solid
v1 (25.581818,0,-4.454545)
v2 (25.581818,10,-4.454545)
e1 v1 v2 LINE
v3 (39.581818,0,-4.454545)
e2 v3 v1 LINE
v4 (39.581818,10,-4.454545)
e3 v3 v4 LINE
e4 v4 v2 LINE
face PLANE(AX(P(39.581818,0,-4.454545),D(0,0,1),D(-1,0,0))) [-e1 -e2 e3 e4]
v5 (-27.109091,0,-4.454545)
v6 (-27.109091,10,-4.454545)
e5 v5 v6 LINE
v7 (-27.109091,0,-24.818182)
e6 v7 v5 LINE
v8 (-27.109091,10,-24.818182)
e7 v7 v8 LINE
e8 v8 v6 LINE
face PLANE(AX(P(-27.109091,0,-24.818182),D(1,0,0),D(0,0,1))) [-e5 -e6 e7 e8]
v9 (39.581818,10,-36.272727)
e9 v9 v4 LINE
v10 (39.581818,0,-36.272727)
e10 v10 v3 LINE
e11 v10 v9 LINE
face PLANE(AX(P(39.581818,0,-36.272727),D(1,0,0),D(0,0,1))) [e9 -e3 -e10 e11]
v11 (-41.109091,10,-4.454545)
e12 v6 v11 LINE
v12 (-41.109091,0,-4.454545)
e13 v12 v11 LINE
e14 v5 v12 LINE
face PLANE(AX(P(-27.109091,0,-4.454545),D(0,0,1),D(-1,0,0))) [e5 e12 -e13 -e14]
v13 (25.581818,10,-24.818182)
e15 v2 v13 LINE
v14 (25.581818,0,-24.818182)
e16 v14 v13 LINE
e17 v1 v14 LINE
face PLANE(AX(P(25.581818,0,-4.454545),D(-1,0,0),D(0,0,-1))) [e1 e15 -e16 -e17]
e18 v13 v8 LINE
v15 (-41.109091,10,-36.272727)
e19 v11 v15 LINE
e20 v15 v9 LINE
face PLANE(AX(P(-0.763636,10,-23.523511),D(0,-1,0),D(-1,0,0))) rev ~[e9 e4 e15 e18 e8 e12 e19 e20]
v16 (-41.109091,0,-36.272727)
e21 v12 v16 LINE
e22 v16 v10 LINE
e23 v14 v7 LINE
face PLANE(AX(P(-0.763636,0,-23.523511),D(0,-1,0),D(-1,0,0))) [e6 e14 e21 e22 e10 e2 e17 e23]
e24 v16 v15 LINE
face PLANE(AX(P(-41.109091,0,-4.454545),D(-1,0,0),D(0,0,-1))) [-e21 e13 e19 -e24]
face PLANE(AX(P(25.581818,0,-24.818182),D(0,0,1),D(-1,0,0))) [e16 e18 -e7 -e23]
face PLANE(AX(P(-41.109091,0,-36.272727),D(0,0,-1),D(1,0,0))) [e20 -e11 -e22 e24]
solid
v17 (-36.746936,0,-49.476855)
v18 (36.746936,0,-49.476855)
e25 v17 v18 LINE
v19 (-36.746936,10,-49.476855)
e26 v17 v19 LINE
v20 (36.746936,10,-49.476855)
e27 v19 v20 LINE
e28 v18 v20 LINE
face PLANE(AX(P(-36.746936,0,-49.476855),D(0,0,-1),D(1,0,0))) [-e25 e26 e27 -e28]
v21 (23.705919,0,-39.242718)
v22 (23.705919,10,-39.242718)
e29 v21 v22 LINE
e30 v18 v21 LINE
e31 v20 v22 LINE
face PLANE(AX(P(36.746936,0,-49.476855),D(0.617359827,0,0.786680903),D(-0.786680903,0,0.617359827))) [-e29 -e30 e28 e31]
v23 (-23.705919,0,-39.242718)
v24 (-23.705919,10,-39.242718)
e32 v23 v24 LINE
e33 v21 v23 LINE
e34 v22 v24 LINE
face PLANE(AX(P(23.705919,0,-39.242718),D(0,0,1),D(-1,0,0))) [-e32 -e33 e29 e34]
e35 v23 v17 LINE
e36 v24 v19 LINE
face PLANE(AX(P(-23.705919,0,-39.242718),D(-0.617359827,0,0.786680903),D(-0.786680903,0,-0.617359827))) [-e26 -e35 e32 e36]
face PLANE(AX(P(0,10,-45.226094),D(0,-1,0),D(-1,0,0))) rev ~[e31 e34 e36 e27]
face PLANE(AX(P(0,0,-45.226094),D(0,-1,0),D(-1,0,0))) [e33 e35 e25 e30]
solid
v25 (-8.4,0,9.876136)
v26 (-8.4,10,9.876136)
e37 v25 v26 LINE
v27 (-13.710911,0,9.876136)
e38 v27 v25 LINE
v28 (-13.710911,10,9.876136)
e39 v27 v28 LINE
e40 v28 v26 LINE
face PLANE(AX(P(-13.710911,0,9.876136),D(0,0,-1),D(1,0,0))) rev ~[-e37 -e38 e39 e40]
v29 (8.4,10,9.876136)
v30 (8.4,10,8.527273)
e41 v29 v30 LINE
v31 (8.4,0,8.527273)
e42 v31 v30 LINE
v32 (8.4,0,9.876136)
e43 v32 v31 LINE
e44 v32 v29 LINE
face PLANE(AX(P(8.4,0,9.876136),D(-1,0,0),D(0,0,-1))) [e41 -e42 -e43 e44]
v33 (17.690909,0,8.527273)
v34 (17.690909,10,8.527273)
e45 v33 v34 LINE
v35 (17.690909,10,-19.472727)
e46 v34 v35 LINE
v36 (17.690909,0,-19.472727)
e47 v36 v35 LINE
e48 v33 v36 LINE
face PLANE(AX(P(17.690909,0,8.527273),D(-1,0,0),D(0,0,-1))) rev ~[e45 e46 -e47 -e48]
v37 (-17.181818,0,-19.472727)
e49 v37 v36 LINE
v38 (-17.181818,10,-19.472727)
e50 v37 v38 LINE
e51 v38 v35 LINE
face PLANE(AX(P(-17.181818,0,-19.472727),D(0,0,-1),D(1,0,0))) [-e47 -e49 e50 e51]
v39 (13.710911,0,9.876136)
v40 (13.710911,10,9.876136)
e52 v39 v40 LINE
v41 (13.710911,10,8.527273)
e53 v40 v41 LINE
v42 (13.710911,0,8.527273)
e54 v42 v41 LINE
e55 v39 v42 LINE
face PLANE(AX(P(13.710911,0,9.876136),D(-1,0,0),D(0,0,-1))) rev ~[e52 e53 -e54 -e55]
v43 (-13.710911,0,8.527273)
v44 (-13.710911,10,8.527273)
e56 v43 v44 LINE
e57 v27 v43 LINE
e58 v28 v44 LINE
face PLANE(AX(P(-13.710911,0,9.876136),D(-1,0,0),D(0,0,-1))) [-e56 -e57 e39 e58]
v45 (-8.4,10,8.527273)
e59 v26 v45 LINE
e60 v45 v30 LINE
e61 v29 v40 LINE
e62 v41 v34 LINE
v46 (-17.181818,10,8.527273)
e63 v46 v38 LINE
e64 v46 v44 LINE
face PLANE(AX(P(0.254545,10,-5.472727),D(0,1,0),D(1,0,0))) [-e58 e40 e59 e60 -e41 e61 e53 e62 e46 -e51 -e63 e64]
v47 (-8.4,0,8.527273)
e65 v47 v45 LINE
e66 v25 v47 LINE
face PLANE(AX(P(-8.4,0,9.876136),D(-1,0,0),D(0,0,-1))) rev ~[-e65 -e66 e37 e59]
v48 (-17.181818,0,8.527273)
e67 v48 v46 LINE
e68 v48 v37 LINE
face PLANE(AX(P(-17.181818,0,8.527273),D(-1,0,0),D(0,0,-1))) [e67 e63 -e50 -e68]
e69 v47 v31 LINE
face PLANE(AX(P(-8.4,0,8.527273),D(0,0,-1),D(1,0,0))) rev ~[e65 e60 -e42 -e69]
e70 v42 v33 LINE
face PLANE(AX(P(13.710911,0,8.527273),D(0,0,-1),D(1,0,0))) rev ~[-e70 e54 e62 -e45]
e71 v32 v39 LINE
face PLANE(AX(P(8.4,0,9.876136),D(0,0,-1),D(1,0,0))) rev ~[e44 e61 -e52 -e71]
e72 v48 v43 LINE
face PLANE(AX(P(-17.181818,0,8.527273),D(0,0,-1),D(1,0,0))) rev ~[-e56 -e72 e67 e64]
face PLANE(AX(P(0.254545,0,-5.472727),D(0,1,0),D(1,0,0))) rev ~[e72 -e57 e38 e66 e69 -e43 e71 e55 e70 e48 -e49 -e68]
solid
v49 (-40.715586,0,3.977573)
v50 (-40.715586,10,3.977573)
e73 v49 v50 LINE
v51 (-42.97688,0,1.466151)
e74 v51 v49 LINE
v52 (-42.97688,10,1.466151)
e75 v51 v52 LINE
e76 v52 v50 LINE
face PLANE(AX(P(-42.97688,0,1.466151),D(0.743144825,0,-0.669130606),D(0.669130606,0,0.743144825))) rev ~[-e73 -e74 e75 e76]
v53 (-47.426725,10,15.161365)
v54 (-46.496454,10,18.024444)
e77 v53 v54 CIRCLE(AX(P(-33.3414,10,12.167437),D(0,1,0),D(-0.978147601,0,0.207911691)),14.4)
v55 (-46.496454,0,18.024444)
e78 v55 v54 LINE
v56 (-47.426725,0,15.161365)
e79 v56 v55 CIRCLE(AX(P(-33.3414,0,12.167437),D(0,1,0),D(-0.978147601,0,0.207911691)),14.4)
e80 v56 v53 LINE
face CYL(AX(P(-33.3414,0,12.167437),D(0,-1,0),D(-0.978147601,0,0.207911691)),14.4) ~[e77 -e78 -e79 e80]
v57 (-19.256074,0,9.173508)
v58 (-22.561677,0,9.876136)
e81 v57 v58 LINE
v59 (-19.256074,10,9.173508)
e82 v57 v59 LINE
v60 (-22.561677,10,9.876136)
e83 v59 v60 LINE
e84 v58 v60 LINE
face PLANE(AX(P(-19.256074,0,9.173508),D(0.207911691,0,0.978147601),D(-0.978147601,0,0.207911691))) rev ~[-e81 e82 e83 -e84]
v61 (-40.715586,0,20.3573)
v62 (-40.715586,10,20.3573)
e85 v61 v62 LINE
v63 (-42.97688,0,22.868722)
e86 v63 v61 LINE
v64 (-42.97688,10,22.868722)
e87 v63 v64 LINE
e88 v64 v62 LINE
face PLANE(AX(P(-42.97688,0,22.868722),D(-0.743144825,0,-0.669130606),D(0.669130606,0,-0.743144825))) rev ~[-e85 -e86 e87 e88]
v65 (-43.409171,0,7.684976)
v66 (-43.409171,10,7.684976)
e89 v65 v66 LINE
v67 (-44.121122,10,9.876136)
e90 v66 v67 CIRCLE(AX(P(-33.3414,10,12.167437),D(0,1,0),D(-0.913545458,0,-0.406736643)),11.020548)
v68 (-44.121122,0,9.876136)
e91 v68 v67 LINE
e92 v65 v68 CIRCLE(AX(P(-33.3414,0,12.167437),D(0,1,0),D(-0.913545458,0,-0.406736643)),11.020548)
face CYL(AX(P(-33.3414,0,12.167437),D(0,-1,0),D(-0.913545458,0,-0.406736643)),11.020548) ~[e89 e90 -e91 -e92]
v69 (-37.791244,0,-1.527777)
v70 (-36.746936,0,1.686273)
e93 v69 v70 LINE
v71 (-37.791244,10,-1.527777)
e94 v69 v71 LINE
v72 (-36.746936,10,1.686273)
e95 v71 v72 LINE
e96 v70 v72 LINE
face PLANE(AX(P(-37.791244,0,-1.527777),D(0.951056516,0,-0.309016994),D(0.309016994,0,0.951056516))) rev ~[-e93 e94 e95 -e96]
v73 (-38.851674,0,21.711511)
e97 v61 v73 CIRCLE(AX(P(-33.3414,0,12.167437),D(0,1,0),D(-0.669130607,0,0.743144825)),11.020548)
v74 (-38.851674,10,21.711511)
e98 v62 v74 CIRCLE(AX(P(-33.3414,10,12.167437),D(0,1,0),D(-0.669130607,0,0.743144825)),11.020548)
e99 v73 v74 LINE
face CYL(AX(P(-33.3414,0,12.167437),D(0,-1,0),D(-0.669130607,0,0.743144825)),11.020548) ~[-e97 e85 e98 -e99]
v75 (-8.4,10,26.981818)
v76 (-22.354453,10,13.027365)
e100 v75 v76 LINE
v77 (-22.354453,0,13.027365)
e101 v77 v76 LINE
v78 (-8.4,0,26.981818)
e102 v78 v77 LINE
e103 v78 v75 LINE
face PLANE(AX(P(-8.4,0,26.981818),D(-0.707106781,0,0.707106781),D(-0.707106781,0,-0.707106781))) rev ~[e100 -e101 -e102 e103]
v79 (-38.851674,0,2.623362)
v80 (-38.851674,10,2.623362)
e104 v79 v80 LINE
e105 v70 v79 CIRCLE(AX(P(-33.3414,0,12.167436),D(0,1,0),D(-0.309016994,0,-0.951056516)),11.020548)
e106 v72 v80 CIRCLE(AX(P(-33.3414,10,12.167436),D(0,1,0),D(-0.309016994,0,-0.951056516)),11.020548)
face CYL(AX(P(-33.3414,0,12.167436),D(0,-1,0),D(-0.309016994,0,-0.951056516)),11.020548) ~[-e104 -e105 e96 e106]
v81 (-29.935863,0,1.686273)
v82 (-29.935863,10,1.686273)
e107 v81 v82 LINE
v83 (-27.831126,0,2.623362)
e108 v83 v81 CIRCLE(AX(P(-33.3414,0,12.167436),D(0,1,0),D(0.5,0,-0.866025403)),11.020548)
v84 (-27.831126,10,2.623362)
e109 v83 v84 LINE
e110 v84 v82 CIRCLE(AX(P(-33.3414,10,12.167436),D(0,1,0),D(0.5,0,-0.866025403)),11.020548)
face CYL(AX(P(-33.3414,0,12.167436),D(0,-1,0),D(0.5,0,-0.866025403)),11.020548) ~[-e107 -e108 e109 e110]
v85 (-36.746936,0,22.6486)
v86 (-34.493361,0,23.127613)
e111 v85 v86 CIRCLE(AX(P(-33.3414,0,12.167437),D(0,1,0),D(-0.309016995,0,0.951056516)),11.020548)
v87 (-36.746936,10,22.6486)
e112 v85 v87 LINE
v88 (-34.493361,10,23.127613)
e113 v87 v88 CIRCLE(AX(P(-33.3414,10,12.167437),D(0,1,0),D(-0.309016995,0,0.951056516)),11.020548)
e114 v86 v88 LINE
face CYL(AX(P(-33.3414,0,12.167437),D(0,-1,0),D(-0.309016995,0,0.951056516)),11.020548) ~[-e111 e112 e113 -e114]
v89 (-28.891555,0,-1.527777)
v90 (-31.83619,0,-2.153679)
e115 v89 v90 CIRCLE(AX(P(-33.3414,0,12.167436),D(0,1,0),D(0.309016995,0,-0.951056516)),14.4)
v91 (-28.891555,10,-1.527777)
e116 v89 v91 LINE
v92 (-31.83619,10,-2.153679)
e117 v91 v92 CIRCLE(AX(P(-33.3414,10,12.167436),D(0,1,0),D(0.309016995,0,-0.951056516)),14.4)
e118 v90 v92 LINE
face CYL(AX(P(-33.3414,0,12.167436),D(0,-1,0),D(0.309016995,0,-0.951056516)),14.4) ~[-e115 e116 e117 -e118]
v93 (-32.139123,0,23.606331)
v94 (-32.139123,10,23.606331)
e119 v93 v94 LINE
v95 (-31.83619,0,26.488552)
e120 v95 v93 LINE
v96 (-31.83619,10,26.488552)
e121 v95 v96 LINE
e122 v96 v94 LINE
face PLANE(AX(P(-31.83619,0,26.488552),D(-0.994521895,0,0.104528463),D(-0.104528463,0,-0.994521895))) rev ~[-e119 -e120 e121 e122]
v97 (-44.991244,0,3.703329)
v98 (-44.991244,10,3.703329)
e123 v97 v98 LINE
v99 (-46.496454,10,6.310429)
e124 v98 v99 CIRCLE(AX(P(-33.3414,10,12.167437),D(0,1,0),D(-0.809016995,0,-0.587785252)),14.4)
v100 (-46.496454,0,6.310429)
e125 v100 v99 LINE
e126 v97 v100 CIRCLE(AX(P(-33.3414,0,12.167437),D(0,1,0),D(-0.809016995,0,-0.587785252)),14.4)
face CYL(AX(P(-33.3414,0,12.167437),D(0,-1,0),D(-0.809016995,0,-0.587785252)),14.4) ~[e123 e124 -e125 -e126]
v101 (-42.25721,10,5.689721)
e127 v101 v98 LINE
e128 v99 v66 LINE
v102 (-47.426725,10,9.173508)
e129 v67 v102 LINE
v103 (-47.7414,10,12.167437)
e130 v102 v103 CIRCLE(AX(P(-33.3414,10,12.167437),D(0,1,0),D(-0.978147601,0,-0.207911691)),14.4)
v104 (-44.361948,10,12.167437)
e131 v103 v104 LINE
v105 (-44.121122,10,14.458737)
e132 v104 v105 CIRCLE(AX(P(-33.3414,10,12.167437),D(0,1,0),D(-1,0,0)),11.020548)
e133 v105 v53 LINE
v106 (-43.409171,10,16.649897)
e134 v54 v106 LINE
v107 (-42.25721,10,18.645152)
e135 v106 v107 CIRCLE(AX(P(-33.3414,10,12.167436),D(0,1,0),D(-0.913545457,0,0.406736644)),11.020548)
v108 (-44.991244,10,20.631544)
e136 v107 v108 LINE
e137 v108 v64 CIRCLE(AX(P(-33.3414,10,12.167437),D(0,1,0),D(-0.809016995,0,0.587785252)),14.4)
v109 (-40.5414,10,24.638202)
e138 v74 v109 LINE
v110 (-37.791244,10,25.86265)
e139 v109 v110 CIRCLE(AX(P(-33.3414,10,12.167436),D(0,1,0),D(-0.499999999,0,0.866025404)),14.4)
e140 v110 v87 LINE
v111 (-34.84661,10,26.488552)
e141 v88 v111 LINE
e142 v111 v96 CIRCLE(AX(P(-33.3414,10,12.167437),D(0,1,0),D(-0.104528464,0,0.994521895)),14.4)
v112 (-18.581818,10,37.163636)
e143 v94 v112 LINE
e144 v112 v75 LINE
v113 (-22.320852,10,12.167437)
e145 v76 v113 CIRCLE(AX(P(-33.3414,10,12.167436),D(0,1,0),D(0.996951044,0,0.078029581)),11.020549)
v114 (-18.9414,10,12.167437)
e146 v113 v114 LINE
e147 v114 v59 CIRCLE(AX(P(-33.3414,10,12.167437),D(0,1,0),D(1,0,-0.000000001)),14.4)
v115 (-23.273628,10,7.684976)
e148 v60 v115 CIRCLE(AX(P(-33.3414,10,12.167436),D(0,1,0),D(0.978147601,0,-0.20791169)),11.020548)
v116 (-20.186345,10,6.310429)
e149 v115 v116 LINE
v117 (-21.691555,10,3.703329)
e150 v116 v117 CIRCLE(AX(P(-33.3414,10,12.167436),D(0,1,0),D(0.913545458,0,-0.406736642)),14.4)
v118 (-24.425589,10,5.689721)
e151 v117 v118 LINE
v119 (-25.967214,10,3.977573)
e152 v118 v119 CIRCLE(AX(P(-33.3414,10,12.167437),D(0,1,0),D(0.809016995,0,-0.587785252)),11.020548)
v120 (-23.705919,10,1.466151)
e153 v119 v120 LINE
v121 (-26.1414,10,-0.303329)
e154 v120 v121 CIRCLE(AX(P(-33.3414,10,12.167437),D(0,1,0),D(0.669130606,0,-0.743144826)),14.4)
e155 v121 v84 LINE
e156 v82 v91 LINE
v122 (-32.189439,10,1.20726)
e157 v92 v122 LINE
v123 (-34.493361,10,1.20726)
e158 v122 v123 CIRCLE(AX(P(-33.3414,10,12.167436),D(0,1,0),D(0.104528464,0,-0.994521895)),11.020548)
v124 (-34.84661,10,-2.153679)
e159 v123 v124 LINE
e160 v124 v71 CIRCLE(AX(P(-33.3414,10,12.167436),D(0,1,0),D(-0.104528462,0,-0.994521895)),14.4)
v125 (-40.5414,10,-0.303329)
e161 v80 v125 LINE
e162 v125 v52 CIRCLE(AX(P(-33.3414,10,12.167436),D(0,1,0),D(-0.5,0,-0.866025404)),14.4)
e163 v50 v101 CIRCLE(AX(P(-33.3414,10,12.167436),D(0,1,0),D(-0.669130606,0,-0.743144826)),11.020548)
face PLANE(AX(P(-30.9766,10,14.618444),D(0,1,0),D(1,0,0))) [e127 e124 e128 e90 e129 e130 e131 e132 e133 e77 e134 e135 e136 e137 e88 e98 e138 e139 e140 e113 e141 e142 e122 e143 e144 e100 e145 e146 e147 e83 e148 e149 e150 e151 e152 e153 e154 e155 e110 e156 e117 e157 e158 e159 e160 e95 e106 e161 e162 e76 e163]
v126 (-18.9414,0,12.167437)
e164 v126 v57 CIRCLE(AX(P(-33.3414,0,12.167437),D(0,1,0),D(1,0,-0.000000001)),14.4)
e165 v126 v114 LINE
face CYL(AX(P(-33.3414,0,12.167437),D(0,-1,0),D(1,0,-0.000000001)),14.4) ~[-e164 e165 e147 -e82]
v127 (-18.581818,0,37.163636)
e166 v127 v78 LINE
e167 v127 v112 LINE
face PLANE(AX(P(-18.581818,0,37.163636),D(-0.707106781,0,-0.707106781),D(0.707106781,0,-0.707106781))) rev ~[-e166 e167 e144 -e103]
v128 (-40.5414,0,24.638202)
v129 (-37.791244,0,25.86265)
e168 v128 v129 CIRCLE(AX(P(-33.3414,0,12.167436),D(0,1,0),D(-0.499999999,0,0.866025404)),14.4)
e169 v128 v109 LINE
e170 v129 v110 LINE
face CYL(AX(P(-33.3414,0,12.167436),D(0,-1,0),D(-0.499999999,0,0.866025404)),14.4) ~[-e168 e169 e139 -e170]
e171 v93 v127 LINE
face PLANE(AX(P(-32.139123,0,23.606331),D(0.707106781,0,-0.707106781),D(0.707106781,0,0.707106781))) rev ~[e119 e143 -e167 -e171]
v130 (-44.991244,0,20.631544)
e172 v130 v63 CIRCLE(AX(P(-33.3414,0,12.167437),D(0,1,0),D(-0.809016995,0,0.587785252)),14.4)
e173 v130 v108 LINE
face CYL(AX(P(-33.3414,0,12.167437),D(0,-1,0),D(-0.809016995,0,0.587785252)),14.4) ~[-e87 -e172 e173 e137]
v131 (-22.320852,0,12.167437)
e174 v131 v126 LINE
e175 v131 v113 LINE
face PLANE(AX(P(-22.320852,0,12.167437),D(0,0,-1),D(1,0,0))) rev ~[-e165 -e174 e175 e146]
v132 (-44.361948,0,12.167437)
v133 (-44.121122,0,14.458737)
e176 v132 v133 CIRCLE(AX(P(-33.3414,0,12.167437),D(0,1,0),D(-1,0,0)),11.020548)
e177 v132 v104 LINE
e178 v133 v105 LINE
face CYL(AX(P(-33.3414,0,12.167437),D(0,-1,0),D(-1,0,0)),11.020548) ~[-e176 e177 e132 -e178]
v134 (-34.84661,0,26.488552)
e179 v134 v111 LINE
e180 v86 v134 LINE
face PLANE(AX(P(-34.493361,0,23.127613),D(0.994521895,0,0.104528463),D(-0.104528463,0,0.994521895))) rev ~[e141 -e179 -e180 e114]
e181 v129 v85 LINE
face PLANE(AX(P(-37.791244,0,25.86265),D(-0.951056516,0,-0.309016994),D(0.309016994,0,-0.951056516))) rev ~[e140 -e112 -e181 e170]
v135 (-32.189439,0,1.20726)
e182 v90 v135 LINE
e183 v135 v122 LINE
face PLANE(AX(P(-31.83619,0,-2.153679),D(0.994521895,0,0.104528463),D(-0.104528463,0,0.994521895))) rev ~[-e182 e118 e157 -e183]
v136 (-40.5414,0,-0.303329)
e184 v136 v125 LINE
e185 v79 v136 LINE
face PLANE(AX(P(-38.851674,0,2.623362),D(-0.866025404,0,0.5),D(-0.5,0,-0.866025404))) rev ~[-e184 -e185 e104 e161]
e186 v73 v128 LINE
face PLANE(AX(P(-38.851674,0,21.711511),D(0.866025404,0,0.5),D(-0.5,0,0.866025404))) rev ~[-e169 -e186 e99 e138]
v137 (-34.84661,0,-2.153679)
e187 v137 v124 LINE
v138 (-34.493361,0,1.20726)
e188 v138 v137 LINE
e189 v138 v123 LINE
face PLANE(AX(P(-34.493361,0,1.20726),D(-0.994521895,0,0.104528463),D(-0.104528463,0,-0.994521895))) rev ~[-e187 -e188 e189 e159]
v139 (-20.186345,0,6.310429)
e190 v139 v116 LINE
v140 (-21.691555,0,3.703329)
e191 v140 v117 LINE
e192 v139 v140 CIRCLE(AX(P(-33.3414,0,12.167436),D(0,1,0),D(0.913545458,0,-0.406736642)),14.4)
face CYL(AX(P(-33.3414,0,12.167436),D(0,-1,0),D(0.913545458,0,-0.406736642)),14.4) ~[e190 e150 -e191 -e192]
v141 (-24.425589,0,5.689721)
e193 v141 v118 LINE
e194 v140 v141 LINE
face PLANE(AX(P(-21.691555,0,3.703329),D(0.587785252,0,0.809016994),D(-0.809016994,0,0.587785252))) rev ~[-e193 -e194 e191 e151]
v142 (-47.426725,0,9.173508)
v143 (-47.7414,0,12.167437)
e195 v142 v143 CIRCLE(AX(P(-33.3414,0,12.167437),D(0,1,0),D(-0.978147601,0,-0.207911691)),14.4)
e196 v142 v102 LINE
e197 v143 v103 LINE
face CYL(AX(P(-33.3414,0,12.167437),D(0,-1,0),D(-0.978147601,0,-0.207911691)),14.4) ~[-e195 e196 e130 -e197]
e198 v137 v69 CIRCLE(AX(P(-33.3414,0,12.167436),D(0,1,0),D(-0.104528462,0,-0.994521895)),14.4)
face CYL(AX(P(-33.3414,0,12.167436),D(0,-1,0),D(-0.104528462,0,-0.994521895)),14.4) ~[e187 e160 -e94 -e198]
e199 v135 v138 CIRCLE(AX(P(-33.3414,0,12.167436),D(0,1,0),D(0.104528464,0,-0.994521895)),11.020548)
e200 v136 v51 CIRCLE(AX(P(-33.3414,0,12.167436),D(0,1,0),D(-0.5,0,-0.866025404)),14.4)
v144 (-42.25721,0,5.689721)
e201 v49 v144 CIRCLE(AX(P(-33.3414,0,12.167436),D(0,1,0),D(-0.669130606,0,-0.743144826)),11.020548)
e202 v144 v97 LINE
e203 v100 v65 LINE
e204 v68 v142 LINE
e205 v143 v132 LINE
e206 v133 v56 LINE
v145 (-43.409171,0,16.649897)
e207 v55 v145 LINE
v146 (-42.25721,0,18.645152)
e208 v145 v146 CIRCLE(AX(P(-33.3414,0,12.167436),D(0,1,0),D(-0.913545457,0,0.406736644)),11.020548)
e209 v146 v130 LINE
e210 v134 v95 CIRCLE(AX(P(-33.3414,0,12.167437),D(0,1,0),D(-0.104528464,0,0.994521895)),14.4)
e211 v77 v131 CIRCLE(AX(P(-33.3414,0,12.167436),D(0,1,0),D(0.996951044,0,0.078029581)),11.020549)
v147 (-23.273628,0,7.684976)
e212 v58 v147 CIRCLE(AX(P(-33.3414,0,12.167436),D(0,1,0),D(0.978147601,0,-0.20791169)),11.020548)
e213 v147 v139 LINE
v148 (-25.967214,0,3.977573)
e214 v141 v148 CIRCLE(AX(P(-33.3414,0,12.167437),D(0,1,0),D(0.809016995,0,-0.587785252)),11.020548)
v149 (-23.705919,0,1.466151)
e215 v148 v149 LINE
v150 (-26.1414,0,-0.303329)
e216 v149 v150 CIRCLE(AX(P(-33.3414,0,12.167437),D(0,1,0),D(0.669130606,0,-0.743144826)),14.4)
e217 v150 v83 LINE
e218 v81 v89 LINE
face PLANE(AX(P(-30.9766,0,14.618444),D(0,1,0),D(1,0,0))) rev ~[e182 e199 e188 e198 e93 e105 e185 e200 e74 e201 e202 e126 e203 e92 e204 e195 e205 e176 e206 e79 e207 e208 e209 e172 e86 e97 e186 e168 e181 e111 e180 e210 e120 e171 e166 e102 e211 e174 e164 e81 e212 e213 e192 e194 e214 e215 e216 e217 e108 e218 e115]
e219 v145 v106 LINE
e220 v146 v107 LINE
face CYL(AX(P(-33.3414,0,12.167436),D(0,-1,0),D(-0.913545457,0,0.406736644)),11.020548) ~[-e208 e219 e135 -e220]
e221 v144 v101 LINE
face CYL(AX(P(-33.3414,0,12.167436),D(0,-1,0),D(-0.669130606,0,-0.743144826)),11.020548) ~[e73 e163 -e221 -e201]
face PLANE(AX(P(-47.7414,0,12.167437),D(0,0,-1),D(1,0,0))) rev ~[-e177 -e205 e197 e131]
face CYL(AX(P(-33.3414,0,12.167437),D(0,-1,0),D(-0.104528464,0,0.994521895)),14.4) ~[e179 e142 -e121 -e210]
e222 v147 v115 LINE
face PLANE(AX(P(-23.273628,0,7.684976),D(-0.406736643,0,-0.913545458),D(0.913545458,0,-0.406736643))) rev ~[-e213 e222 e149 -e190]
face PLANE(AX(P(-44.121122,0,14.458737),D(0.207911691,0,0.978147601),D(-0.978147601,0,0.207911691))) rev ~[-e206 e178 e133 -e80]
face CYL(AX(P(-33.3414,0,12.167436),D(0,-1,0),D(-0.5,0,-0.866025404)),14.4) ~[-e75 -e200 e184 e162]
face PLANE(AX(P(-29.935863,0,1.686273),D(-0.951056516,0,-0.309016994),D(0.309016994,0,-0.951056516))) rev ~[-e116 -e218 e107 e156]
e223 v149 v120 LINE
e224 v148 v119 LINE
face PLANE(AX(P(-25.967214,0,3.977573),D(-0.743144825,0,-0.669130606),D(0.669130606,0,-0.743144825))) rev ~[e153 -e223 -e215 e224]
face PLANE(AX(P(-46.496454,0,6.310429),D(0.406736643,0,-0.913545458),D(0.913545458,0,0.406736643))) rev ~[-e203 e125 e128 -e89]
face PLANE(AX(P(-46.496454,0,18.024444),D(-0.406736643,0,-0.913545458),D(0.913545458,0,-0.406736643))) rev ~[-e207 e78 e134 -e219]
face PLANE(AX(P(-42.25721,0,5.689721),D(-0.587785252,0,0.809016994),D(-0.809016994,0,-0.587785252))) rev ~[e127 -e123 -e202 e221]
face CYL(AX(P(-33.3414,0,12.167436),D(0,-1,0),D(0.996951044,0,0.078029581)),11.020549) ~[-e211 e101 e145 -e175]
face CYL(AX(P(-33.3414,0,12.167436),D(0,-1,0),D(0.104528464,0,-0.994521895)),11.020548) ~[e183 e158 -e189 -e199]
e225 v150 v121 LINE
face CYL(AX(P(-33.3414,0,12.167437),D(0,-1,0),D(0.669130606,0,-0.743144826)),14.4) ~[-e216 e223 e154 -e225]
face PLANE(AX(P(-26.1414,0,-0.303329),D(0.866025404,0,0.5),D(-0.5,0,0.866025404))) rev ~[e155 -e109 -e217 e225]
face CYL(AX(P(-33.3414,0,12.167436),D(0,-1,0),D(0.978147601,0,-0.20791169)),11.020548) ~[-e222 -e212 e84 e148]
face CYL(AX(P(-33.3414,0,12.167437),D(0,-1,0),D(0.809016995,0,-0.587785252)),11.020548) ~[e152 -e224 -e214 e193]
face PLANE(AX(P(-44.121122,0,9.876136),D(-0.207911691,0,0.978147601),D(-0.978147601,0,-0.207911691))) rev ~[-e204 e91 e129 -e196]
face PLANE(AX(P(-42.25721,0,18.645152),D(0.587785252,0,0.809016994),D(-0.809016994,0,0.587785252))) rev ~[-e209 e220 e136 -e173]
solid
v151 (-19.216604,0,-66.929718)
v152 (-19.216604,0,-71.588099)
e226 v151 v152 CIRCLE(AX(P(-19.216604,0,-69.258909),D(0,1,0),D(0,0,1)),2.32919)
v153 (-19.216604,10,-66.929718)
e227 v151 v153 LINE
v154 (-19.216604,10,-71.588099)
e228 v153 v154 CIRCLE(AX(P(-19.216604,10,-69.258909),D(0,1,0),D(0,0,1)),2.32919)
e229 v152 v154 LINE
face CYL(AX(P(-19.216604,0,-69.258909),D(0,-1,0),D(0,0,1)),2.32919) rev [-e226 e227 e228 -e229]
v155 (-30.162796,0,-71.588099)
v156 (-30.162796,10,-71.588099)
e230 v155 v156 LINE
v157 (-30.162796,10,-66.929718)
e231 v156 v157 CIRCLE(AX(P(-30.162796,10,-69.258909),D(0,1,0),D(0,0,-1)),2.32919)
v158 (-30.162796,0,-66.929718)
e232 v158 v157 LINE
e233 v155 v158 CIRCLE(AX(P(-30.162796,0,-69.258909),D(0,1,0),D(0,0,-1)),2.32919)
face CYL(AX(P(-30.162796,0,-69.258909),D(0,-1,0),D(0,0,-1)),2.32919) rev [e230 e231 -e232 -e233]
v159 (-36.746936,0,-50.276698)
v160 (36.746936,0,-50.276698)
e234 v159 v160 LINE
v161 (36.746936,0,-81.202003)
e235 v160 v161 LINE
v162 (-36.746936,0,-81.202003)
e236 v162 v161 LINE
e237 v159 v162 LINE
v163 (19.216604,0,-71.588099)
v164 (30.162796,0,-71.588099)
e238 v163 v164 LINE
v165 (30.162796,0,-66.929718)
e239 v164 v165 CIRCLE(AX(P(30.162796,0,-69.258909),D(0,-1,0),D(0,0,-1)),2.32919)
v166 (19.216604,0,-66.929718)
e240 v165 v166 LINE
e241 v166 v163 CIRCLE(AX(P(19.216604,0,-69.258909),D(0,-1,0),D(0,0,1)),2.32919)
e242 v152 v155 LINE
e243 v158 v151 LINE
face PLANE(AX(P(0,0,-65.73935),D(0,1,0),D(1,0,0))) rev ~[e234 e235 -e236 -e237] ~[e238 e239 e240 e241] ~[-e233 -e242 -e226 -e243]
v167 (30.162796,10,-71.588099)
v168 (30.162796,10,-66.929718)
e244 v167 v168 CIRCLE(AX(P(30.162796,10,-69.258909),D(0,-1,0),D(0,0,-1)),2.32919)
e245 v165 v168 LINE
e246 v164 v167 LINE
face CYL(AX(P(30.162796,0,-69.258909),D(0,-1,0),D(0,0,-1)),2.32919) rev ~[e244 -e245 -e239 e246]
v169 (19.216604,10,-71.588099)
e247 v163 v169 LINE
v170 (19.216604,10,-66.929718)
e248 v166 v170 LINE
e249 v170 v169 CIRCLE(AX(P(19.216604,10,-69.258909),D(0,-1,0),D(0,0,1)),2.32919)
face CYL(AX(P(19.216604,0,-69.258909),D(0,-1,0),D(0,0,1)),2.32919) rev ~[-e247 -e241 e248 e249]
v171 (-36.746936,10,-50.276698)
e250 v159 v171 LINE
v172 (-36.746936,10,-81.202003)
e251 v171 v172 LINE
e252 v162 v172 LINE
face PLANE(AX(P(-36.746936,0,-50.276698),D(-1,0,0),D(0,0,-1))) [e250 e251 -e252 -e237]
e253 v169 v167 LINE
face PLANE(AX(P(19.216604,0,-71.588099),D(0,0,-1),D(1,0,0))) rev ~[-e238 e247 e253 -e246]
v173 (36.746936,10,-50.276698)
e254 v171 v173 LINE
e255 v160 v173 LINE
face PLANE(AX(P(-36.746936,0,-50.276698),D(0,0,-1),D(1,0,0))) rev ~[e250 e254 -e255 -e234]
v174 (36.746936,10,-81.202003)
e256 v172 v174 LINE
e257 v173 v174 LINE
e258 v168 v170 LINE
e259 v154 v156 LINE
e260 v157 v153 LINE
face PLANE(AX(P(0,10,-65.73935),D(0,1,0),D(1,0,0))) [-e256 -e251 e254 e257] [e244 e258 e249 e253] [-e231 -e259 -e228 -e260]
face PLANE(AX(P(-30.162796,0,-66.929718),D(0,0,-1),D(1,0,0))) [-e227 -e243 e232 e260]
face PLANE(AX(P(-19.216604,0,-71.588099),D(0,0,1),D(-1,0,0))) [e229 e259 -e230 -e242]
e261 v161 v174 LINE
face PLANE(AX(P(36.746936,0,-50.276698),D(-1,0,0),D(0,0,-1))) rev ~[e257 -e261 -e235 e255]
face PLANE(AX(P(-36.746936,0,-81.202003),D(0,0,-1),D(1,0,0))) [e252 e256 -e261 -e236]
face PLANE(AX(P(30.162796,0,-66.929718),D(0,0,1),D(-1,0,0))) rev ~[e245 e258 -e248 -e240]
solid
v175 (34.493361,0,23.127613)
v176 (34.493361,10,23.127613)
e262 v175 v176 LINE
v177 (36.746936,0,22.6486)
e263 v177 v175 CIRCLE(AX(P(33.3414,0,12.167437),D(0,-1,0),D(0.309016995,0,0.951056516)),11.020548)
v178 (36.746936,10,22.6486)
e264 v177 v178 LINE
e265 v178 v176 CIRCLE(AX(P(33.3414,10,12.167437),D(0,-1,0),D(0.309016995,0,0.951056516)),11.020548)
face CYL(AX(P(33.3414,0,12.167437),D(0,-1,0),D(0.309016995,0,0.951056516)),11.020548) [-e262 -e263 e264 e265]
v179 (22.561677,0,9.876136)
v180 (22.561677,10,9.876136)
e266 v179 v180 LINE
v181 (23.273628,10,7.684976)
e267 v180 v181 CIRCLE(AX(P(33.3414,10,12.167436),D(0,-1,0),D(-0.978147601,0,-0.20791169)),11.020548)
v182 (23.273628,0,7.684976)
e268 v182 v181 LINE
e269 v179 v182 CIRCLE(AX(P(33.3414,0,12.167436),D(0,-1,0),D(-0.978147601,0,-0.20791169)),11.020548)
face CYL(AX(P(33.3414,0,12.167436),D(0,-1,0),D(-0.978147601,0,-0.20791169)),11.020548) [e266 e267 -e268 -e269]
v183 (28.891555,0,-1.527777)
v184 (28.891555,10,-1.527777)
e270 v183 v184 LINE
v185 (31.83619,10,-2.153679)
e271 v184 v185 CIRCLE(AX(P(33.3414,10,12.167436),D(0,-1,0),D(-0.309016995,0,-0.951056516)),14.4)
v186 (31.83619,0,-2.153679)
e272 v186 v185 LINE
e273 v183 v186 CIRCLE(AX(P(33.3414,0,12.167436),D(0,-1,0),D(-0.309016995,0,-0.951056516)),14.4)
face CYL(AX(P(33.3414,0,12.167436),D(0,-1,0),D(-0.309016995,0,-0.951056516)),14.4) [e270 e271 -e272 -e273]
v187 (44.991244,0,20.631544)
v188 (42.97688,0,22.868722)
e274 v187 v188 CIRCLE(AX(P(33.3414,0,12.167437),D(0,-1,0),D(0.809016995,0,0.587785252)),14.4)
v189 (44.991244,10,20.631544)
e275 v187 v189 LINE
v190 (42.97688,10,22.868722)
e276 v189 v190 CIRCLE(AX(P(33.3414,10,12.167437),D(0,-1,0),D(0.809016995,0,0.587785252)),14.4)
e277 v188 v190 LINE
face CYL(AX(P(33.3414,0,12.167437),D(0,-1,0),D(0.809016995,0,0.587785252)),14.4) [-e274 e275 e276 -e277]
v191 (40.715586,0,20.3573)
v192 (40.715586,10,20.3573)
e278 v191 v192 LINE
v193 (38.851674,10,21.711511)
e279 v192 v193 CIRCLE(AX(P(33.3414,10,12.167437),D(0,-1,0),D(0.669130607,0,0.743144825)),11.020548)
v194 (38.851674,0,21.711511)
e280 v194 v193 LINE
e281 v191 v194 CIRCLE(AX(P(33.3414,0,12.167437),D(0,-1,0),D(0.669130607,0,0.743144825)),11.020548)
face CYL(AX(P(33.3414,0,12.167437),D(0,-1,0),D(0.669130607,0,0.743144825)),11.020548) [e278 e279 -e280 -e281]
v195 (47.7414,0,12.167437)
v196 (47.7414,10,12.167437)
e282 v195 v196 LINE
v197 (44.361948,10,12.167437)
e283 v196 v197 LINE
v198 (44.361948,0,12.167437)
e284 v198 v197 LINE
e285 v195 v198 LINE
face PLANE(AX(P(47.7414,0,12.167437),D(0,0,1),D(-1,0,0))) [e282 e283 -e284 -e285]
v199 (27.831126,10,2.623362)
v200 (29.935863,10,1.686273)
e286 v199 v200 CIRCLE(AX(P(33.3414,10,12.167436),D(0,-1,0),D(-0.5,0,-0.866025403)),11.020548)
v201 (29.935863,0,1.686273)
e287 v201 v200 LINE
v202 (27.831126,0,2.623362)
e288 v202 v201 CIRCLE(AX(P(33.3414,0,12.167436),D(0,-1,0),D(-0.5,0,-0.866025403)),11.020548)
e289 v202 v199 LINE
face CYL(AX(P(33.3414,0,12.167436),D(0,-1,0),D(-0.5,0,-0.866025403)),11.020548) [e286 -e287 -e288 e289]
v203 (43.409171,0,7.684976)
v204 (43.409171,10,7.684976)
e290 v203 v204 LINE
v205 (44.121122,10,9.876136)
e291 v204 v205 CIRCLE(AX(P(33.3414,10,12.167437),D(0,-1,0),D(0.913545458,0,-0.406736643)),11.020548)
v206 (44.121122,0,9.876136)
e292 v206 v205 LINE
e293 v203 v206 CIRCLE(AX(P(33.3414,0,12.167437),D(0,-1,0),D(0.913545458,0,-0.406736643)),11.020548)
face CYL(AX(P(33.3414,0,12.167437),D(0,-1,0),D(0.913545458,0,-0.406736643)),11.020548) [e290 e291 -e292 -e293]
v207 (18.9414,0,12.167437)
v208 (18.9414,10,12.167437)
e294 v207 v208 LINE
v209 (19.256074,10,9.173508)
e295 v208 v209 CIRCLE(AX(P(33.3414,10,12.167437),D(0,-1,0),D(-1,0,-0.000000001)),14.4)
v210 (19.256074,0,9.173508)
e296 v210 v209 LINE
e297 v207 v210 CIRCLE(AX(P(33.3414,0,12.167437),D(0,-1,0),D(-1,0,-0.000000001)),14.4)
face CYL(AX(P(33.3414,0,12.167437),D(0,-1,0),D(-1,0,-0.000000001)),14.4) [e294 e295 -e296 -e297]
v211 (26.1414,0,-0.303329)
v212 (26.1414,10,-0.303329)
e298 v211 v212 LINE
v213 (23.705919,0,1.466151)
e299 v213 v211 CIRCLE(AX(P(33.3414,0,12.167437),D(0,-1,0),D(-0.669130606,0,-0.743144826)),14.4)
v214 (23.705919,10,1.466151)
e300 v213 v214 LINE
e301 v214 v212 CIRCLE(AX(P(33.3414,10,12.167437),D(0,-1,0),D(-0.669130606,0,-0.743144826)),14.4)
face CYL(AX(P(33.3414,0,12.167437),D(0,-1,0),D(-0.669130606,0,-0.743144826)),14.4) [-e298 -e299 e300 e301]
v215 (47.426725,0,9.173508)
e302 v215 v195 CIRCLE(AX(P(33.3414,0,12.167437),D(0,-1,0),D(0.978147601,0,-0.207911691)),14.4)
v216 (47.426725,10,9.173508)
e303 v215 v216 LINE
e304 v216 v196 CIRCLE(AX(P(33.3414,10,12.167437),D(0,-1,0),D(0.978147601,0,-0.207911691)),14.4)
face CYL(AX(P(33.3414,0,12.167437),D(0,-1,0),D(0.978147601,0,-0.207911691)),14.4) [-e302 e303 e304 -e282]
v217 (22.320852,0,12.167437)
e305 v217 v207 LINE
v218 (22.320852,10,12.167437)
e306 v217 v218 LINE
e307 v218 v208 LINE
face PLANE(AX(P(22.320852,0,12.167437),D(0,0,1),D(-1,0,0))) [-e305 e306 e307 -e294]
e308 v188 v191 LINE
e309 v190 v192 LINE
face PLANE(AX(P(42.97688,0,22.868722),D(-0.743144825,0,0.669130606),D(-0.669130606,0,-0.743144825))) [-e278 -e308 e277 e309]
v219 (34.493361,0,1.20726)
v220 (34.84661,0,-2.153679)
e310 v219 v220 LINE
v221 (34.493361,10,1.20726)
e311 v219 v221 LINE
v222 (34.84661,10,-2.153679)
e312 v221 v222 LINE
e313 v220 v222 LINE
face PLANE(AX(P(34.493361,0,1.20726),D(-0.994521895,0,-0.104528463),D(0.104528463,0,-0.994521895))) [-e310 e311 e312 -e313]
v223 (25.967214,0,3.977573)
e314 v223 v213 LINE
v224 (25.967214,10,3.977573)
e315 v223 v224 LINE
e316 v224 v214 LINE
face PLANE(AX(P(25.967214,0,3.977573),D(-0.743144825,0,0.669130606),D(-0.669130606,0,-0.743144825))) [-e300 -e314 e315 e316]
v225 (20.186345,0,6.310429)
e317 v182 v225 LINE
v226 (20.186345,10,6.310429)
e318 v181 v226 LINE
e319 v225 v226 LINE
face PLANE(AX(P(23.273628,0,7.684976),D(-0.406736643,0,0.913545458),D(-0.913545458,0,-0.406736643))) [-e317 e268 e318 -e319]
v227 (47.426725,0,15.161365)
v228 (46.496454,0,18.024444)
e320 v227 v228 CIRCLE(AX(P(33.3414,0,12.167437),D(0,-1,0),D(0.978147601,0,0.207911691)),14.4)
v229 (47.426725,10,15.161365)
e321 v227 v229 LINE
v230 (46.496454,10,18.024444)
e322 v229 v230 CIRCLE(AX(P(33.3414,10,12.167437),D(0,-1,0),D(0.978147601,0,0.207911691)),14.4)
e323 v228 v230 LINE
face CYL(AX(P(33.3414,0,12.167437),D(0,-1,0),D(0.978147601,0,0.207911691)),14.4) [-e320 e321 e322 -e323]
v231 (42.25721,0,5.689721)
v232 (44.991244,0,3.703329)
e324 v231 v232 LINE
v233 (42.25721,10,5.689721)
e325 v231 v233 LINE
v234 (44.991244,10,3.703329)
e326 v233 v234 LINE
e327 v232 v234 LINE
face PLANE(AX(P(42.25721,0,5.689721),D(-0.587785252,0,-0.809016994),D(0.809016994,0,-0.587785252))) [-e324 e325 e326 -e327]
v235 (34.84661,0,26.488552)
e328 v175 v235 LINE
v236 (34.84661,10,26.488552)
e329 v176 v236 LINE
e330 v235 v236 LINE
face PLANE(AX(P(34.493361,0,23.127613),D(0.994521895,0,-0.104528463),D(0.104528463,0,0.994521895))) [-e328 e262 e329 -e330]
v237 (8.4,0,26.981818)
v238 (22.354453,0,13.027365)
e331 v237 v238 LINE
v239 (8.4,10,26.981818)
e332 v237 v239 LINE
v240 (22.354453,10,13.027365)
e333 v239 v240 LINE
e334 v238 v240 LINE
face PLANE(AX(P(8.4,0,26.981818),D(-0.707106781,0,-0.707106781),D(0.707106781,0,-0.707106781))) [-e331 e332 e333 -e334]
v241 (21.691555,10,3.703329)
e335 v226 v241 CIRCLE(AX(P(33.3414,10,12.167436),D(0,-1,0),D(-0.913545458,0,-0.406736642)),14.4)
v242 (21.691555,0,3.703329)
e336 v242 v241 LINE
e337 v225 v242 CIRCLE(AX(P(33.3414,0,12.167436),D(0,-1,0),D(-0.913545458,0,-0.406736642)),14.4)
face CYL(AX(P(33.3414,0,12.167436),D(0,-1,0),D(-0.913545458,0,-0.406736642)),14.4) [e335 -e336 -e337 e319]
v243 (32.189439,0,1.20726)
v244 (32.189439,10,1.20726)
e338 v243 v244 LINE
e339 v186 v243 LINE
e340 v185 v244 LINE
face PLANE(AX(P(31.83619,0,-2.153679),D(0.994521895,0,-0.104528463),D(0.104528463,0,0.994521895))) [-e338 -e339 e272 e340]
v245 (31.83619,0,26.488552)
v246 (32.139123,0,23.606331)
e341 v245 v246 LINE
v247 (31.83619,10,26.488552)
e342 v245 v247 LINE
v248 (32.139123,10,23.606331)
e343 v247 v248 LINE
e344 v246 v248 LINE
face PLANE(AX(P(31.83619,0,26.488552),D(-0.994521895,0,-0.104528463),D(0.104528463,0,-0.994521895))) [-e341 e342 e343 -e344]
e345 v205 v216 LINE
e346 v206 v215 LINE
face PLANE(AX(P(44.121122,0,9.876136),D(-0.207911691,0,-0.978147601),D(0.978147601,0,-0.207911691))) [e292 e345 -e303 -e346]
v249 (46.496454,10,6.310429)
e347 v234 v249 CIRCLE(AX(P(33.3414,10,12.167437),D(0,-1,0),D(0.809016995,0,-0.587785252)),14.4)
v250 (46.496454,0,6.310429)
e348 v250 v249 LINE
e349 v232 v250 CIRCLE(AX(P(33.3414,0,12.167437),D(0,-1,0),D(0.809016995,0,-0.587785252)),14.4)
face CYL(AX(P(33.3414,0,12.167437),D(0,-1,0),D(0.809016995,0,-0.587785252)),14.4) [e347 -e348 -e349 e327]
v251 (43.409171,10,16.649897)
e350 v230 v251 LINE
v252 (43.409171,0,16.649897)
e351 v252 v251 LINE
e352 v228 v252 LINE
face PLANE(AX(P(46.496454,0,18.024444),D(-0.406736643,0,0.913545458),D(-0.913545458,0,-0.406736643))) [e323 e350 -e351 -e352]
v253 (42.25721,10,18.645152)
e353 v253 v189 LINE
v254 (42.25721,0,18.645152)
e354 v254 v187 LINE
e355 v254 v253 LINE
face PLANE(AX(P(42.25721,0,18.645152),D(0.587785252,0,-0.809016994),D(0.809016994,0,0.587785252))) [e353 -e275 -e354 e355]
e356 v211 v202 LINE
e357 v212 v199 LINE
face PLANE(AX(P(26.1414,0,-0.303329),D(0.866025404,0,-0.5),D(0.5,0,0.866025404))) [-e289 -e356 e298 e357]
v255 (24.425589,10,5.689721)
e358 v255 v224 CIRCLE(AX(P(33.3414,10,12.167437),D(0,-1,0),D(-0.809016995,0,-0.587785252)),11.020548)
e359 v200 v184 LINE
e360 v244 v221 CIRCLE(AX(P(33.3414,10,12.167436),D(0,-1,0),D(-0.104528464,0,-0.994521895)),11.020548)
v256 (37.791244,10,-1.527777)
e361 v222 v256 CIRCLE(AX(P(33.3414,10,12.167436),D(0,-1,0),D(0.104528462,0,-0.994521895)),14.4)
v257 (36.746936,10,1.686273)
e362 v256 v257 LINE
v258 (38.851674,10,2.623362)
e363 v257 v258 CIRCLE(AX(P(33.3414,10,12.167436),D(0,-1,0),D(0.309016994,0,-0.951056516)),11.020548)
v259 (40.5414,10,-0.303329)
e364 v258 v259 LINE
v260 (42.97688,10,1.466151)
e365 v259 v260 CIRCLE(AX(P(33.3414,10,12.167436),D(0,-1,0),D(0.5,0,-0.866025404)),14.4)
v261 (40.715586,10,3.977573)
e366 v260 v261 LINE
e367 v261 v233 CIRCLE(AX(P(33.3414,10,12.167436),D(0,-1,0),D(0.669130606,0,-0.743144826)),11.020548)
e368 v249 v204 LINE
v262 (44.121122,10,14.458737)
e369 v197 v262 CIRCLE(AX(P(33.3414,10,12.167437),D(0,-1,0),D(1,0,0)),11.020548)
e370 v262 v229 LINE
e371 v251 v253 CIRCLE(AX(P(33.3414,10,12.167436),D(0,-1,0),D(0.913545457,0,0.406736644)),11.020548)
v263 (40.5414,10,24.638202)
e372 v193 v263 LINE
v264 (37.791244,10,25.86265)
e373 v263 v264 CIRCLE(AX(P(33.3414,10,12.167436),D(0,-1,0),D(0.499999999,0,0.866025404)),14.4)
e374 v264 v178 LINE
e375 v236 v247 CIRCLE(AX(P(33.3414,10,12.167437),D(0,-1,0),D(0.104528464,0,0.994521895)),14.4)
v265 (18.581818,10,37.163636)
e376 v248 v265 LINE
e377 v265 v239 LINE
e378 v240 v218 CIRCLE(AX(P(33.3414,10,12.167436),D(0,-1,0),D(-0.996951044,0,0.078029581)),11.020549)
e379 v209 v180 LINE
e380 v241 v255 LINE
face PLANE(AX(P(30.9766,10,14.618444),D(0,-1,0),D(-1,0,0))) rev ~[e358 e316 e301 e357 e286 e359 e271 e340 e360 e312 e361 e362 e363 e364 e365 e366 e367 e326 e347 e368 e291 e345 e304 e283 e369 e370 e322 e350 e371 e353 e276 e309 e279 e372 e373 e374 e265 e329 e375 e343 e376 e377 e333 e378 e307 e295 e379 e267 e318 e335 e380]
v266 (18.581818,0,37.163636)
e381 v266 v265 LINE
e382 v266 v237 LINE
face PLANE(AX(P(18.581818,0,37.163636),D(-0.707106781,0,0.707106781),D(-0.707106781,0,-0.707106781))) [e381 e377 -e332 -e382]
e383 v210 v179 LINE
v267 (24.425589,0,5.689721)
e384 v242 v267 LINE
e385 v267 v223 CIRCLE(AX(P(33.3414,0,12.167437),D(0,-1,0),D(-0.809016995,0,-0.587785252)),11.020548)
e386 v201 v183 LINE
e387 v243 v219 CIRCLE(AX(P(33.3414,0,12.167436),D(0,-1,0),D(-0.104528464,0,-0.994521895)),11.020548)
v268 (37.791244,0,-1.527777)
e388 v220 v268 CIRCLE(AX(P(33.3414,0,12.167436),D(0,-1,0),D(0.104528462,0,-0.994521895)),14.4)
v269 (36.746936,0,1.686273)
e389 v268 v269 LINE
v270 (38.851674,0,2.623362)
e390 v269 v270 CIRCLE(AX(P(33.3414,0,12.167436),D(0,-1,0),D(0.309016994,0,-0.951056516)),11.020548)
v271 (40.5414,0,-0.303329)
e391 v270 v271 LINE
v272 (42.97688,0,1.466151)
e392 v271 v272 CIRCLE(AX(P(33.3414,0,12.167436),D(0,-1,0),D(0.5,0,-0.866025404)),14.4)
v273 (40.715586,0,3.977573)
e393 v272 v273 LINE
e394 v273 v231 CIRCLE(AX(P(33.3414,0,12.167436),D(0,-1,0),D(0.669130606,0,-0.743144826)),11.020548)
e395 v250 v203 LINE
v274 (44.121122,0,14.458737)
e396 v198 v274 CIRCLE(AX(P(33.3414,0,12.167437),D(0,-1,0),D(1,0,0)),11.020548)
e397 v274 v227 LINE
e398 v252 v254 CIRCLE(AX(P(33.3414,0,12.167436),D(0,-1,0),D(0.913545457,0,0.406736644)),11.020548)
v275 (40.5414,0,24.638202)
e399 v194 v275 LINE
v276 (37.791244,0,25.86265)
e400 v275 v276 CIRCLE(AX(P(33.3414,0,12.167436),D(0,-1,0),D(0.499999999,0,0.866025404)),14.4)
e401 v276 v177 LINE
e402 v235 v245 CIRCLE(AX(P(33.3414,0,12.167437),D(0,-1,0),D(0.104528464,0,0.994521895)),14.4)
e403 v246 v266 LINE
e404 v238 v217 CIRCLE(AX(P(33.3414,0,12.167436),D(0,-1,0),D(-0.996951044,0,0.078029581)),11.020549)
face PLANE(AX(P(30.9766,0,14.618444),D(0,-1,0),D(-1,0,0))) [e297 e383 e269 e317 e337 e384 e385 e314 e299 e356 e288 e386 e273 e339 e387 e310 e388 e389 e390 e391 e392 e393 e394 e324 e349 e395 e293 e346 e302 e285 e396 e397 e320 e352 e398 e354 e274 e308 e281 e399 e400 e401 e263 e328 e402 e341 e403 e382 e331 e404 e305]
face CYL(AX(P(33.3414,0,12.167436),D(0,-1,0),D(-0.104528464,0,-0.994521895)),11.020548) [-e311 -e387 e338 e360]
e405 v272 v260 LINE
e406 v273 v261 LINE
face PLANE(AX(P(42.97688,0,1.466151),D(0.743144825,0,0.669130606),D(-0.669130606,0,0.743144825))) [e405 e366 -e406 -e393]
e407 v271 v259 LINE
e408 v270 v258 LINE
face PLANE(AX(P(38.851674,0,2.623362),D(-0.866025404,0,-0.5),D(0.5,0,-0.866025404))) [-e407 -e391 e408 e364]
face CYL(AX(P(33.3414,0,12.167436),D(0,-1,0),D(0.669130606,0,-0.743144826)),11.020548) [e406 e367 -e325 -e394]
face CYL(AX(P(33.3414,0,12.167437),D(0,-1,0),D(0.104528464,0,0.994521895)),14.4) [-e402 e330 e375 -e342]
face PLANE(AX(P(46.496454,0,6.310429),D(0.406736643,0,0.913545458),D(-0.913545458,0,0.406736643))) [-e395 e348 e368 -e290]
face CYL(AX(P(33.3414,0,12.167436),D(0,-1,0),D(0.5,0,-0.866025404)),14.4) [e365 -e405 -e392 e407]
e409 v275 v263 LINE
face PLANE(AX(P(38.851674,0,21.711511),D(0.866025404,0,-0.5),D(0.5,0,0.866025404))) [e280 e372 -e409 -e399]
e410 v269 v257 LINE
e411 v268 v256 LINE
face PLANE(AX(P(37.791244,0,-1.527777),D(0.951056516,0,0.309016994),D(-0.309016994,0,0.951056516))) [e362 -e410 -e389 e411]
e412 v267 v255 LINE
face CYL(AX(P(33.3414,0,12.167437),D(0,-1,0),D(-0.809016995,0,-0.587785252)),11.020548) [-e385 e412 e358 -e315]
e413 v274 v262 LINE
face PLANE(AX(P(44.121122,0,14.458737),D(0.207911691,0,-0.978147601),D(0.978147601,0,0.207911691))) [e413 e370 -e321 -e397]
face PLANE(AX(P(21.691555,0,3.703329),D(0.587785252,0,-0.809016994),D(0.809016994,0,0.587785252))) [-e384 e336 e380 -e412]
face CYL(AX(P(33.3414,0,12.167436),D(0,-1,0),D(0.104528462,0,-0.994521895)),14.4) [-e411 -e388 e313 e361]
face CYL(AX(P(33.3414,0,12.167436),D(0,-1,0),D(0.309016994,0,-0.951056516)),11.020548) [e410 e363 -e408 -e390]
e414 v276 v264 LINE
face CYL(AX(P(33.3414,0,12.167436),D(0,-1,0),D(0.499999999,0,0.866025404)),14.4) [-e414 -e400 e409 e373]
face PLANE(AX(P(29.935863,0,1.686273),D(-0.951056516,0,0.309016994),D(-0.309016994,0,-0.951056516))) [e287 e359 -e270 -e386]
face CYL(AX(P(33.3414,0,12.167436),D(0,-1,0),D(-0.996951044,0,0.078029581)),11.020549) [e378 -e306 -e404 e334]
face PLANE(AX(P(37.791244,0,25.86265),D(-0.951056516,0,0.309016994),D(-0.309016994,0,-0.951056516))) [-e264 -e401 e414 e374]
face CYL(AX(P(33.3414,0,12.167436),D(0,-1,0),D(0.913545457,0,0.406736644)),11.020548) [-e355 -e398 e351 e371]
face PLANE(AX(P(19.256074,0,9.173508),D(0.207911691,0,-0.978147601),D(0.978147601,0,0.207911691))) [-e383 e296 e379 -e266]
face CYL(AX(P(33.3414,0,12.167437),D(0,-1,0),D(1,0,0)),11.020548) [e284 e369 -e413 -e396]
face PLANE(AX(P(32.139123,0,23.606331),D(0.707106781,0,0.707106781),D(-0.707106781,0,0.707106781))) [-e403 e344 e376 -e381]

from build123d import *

# Parameters (mm, degrees)
SKETCH1_W           = 34.872727273
SKETCH1_H           = 28
SKETCH1_W_2         = 73.493872484
SKETCH1_H_2         = 30.925305247
SKETCH1_W_3         = 5.310911144
SKETCH1_H_3         = 1.348863037
BOSS_EXTRUDE1_DEPTH = 10


with BuildPart() as part:
    # Sketch1 → Boss-Extrude1 (new body)
    with BuildSketch(Plane(origin=(0, 0, 0), x_dir=(1, 0, 0), z_dir=(0, 1, 0))):
        with BuildLine():
            Line((-23.273628157, -7.68497585), (-20.186345058, -6.310428855))
            ThreePointArc((-20.186345058, -6.310428855), (-20.870633833, -4.967436515), (-21.691554929, -3.703328882))
            Line((-21.691554929, -3.703328882), (-24.425589095, -5.689720977))
            ThreePointArc((-24.425589095, -5.689720977), (-25.151536489, -4.793250604), (-25.967213737, -3.977573356))
            Line((-25.967213737, -3.977573356), (-23.705918916, -1.466151028))
            ThreePointArc((-23.705918916, -1.466151028), (-24.877292015, -0.517591796), (-26.141399648, 0.303329299))
            Line((-26.141399648, 0.303329299), (-27.831125689, -2.623362055))
            ThreePointArc((-27.831125689, -2.623362055), (-28.858938983, -2.099665024), (-29.935863054, -1.686272605))
            Line((-29.935863054, -1.686272605), (-28.891554929, 1.52777732))
            ThreePointArc((-28.891554929, 1.52777732), (-30.3474713, 1.917888936), (-31.836189777, 2.153678778))
            Line((-31.836189777, 2.153678778), (-32.18943871, -1.207260312))
            ThreePointArc((-32.18943871, -1.207260312), (-33.341399648, -1.146888597), (-34.493360586, -1.207260312))
            Line((-34.493360586, -1.207260312), (-34.846609519, 2.153678778))
            ThreePointArc((-34.846609519, 2.153678778), (-36.335327996, 1.917888936), (-37.791244367, 1.52777732))
            Line((-37.791244367, 1.52777732), (-36.746936242, -1.686272605))
            ThreePointArc((-36.746936242, -1.686272605), (-37.823860313, -2.099665024), (-38.851673607, -2.623362055))
            Line((-38.851673607, -2.623362055), (-40.541399648, 0.303329299))
            ThreePointArc((-40.541399648, 0.303329299), (-41.805507281, -0.517591796), (-42.976880379, -1.466151028))
            Line((-42.976880379, -1.466151028), (-40.715585558, -3.977573356))
            ThreePointArc((-40.715585558, -3.977573356), (-41.531262807, -4.793250604), (-42.257210201, -5.689720977))
            Line((-42.257210201, -5.689720977), (-44.991244367, -3.703328882))
            ThreePointArc((-44.991244367, -3.703328882), (-45.812165462, -4.967436515), (-46.496454238, -6.310428855))
            Line((-46.496454238, -6.310428855), (-43.409171139, -7.68497585))
            ThreePointArc((-43.409171139, -7.68497585), (-43.822563558, -8.761899921), (-44.121122152, -9.876135764))
            Line((-44.121122152, -9.876135764), (-47.426725098, -9.173508167))
            ThreePointArc((-47.426725098, -9.173508167), (-47.662514941, -10.662226644), (-47.741399648, -12.167436515))
            Line((-47.741399648, -12.167436515), (-44.361947566, -12.167436515))
            ThreePointArc((-44.361947566, -12.167436515), (-44.301575851, -13.319397453), (-44.121122152, -14.458737266))
            Line((-44.121122152, -14.458737266), (-47.426725098, -15.161364863))
            ThreePointArc((-47.426725098, -15.161364863), (-47.036613482, -16.617281234), (-46.496454238, -18.024444175))
            Line((-46.496454238, -18.024444175), (-43.409171139, -16.64989718))
            ThreePointArc((-43.409171139, -16.64989718), (-42.885474108, -17.677710474), (-42.257210201, -18.645152053))
            Line((-42.257210201, -18.645152053), (-44.991244367, -20.631544148))
            ThreePointArc((-44.991244367, -20.631544148), (-44.042685135, -21.802917247), (-42.976880379, -22.868722002))
            Line((-42.976880379, -22.868722002), (-40.715585558, -20.357299674))
            ThreePointArc((-40.715585558, -20.357299674), (-39.819115186, -21.083247068), (-38.851673607, -21.711510975))
            Line((-38.851673607, -21.711510975), (-40.541399648, -24.63820233))
            ThreePointArc((-40.541399648, -24.63820233), (-39.198407308, -25.322491105), (-37.791244367, -25.86265035))
            Line((-37.791244367, -25.86265035), (-36.746936242, -22.648600425))
            ThreePointArc((-36.746936242, -22.648600425), (-35.632700399, -22.94715902), (-34.493360586, -23.127612718))
            Line((-34.493360586, -23.127612718), (-34.846609519, -26.488551808))
            ThreePointArc((-34.846609519, -26.488551808), (-33.341399648, -26.567436515), (-31.836189777, -26.488551808))
            Line((-31.836189777, -26.488551808), (-32.139123373, -23.606331173))
            Line((-32.139123373, -23.606331173), (-18.581818182, -37.163636364))
            Line((-18.581818182, -37.163636364), (-8.4, -26.981818182))
            Line((-8.4, -26.981818182), (-22.354452896, -13.027365285))
            ThreePointArc((-22.354452896, -13.027365285), (-22.329255226, -12.597729011), (-22.32085173, -12.167436515))
            Line((-22.32085173, -12.167436515), (-18.941399648, -12.167436515))
            ThreePointArc((-18.941399648, -12.167436515), (-19.020284355, -10.662226644), (-19.256074197, -9.173508167))
            Line((-19.256074197, -9.173508167), (-22.561677143, -9.876135764))
            ThreePointArc((-22.561677143, -9.876135764), (-22.860235737, -8.761899921), (-23.273628157, -7.68497585))
        make_face()
        with BuildLine():
            ThreePointArc((18.941399648, -12.167436515), (19.020284355, -10.662226644), (19.256074197, -9.173508167))
            Line((19.256074197, -9.173508167), (22.561677143, -9.876135764))
            ThreePointArc((22.561677143, -9.876135764), (22.860235737, -8.761899921), (23.273628157, -7.68497585))
            Line((23.273628157, -7.68497585), (20.186345058, -6.310428855))
            ThreePointArc((20.186345058, -6.310428855), (20.870633833, -4.967436515), (21.691554929, -3.703328882))
            Line((21.691554929, -3.703328882), (24.425589095, -5.689720977))
            ThreePointArc((24.425589095, -5.689720977), (25.151536489, -4.793250604), (25.967213737, -3.977573356))
            Line((25.967213737, -3.977573356), (23.705918916, -1.466151028))
            ThreePointArc((23.705918916, -1.466151028), (24.877292015, -0.517591796), (26.141399648, 0.303329299))
            Line((26.141399648, 0.303329299), (27.831125689, -2.623362055))
            ThreePointArc((27.831125689, -2.623362055), (28.858938983, -2.099665024), (29.935863054, -1.686272605))
            Line((29.935863054, -1.686272605), (28.891554929, 1.52777732))
            ThreePointArc((28.891554929, 1.52777732), (30.3474713, 1.917888936), (31.836189777, 2.153678778))
            Line((31.836189777, 2.153678778), (32.18943871, -1.207260312))
            ThreePointArc((32.18943871, -1.207260312), (33.341399648, -1.146888597), (34.493360586, -1.207260312))
            Line((34.493360586, -1.207260312), (34.846609519, 2.153678778))
            ThreePointArc((34.846609519, 2.153678778), (36.335327996, 1.917888936), (37.791244367, 1.52777732))
            Line((37.791244367, 1.52777732), (36.746936242, -1.686272605))
            ThreePointArc((36.746936242, -1.686272605), (37.823860313, -2.099665024), (38.851673607, -2.623362055))
            Line((38.851673607, -2.623362055), (40.541399648, 0.303329299))
            ThreePointArc((40.541399648, 0.303329299), (41.805507281, -0.517591796), (42.976880379, -1.466151028))
            Line((42.976880379, -1.466151028), (40.715585558, -3.977573356))
            ThreePointArc((40.715585558, -3.977573356), (41.531262807, -4.793250604), (42.257210201, -5.689720977))
            Line((42.257210201, -5.689720977), (44.991244367, -3.703328882))
            ThreePointArc((44.991244367, -3.703328882), (45.812165462, -4.967436515), (46.496454238, -6.310428855))
            Line((46.496454238, -6.310428855), (43.409171139, -7.68497585))
            ThreePointArc((43.409171139, -7.68497585), (43.822563558, -8.761899921), (44.121122152, -9.876135764))
            Line((44.121122152, -9.876135764), (47.426725098, -9.173508167))
            ThreePointArc((47.426725098, -9.173508167), (47.662514941, -10.662226644), (47.741399648, -12.167436515))
            Line((47.741399648, -12.167436515), (44.361947566, -12.167436515))
            ThreePointArc((44.361947566, -12.167436515), (44.301575851, -13.319397453), (44.121122152, -14.458737266))
            Line((44.121122152, -14.458737266), (47.426725098, -15.161364863))
            ThreePointArc((47.426725098, -15.161364863), (47.036613482, -16.617281234), (46.496454238, -18.024444175))
            Line((46.496454238, -18.024444175), (43.409171139, -16.64989718))
            ThreePointArc((43.409171139, -16.64989718), (42.885474108, -17.677710474), (42.257210201, -18.645152053))
            Line((42.257210201, -18.645152053), (44.991244367, -20.631544148))
            ThreePointArc((44.991244367, -20.631544148), (44.042685135, -21.802917247), (42.976880379, -22.868722002))
            Line((42.976880379, -22.868722002), (40.715585558, -20.357299674))
            ThreePointArc((40.715585558, -20.357299674), (39.819115186, -21.083247068), (38.851673607, -21.711510975))
            Line((38.851673607, -21.711510975), (40.541399648, -24.63820233))
            ThreePointArc((40.541399648, -24.63820233), (39.198407308, -25.322491105), (37.791244367, -25.86265035))
            Line((37.791244367, -25.86265035), (36.746936242, -22.648600425))
            ThreePointArc((36.746936242, -22.648600425), (35.632700399, -22.94715902), (34.493360586, -23.127612718))
            Line((34.493360586, -23.127612718), (34.846609519, -26.488551808))
            ThreePointArc((34.846609519, -26.488551808), (33.341399648, -26.567436515), (31.836189777, -26.488551808))
            Line((31.836189777, -26.488551808), (32.139123373, -23.606331173))
            Line((32.139123373, -23.606331173), (18.581818182, -37.163636364))
            Line((18.581818182, -37.163636364), (8.4, -26.981818182))
            Line((8.4, -26.981818182), (22.354452896, -13.027365285))
            ThreePointArc((22.354452896, -13.027365285), (22.329255226, -12.597729011), (22.32085173, -12.167436515))
            Line((22.32085173, -12.167436515), (18.941399648, -12.167436515))
        make_face()
        with Locations((0.254545455, 5.472727273)):
            Rectangle(SKETCH1_W, SKETCH1_H)
        Polygon((-27.109090909, 4.454545455), (-41.109090909, 4.454545455), (-41.109090909, 36.272727273), (39.581818182, 36.272727273), (39.581818182, 4.454545455), (25.581818182, 4.454545455), (25.581818182, 24.818181818), (-27.109090909, 24.818181818), align=None)
        Polygon((23.705918916, 39.242717593), (-23.705918916, 39.242717593), (-36.746936242, 49.476854674), (36.746936242, 49.476854674), align=None)
        with Locations((0, 65.739350238)):
            Rectangle(SKETCH1_W_2, SKETCH1_H_2)
        with BuildLine():
            ThreePointArc((-19.21660374, 66.929718355), (-16.887413584, 69.258908511), (-19.21660374, 71.588098667))
            Line((-19.21660374, 71.588098667), (-30.162795949, 71.588098667))
            ThreePointArc((-30.162795949, 71.588098667), (-32.491986105, 69.258908511), (-30.162795949, 66.929718355))
            Line((-30.162795949, 66.929718355), (-19.21660374, 66.929718355))
        make_face(mode=Mode.SUBTRACT)
        with BuildLine():
            Line((30.162795949, 66.929718355), (19.21660374, 66.929718355))
            ThreePointArc((19.21660374, 66.929718355), (16.887413584, 69.258908511), (19.21660374, 71.588098667))
            Line((19.21660374, 71.588098667), (30.162795949, 71.588098667))
            ThreePointArc((30.162795949, 71.588098667), (32.491986105, 69.258908511), (30.162795949, 66.929718355))
        make_face(mode=Mode.SUBTRACT)
        with Locations((-11.055455572, -9.201704246)):
            Rectangle(SKETCH1_W_3, SKETCH1_H_3)
        with Locations((11.055455572, -9.201704246)):
            Rectangle(SKETCH1_W_3, SKETCH1_H_3)
    extrude(amount=BOSS_EXTRUDE1_DEPTH)


solid = part.part
